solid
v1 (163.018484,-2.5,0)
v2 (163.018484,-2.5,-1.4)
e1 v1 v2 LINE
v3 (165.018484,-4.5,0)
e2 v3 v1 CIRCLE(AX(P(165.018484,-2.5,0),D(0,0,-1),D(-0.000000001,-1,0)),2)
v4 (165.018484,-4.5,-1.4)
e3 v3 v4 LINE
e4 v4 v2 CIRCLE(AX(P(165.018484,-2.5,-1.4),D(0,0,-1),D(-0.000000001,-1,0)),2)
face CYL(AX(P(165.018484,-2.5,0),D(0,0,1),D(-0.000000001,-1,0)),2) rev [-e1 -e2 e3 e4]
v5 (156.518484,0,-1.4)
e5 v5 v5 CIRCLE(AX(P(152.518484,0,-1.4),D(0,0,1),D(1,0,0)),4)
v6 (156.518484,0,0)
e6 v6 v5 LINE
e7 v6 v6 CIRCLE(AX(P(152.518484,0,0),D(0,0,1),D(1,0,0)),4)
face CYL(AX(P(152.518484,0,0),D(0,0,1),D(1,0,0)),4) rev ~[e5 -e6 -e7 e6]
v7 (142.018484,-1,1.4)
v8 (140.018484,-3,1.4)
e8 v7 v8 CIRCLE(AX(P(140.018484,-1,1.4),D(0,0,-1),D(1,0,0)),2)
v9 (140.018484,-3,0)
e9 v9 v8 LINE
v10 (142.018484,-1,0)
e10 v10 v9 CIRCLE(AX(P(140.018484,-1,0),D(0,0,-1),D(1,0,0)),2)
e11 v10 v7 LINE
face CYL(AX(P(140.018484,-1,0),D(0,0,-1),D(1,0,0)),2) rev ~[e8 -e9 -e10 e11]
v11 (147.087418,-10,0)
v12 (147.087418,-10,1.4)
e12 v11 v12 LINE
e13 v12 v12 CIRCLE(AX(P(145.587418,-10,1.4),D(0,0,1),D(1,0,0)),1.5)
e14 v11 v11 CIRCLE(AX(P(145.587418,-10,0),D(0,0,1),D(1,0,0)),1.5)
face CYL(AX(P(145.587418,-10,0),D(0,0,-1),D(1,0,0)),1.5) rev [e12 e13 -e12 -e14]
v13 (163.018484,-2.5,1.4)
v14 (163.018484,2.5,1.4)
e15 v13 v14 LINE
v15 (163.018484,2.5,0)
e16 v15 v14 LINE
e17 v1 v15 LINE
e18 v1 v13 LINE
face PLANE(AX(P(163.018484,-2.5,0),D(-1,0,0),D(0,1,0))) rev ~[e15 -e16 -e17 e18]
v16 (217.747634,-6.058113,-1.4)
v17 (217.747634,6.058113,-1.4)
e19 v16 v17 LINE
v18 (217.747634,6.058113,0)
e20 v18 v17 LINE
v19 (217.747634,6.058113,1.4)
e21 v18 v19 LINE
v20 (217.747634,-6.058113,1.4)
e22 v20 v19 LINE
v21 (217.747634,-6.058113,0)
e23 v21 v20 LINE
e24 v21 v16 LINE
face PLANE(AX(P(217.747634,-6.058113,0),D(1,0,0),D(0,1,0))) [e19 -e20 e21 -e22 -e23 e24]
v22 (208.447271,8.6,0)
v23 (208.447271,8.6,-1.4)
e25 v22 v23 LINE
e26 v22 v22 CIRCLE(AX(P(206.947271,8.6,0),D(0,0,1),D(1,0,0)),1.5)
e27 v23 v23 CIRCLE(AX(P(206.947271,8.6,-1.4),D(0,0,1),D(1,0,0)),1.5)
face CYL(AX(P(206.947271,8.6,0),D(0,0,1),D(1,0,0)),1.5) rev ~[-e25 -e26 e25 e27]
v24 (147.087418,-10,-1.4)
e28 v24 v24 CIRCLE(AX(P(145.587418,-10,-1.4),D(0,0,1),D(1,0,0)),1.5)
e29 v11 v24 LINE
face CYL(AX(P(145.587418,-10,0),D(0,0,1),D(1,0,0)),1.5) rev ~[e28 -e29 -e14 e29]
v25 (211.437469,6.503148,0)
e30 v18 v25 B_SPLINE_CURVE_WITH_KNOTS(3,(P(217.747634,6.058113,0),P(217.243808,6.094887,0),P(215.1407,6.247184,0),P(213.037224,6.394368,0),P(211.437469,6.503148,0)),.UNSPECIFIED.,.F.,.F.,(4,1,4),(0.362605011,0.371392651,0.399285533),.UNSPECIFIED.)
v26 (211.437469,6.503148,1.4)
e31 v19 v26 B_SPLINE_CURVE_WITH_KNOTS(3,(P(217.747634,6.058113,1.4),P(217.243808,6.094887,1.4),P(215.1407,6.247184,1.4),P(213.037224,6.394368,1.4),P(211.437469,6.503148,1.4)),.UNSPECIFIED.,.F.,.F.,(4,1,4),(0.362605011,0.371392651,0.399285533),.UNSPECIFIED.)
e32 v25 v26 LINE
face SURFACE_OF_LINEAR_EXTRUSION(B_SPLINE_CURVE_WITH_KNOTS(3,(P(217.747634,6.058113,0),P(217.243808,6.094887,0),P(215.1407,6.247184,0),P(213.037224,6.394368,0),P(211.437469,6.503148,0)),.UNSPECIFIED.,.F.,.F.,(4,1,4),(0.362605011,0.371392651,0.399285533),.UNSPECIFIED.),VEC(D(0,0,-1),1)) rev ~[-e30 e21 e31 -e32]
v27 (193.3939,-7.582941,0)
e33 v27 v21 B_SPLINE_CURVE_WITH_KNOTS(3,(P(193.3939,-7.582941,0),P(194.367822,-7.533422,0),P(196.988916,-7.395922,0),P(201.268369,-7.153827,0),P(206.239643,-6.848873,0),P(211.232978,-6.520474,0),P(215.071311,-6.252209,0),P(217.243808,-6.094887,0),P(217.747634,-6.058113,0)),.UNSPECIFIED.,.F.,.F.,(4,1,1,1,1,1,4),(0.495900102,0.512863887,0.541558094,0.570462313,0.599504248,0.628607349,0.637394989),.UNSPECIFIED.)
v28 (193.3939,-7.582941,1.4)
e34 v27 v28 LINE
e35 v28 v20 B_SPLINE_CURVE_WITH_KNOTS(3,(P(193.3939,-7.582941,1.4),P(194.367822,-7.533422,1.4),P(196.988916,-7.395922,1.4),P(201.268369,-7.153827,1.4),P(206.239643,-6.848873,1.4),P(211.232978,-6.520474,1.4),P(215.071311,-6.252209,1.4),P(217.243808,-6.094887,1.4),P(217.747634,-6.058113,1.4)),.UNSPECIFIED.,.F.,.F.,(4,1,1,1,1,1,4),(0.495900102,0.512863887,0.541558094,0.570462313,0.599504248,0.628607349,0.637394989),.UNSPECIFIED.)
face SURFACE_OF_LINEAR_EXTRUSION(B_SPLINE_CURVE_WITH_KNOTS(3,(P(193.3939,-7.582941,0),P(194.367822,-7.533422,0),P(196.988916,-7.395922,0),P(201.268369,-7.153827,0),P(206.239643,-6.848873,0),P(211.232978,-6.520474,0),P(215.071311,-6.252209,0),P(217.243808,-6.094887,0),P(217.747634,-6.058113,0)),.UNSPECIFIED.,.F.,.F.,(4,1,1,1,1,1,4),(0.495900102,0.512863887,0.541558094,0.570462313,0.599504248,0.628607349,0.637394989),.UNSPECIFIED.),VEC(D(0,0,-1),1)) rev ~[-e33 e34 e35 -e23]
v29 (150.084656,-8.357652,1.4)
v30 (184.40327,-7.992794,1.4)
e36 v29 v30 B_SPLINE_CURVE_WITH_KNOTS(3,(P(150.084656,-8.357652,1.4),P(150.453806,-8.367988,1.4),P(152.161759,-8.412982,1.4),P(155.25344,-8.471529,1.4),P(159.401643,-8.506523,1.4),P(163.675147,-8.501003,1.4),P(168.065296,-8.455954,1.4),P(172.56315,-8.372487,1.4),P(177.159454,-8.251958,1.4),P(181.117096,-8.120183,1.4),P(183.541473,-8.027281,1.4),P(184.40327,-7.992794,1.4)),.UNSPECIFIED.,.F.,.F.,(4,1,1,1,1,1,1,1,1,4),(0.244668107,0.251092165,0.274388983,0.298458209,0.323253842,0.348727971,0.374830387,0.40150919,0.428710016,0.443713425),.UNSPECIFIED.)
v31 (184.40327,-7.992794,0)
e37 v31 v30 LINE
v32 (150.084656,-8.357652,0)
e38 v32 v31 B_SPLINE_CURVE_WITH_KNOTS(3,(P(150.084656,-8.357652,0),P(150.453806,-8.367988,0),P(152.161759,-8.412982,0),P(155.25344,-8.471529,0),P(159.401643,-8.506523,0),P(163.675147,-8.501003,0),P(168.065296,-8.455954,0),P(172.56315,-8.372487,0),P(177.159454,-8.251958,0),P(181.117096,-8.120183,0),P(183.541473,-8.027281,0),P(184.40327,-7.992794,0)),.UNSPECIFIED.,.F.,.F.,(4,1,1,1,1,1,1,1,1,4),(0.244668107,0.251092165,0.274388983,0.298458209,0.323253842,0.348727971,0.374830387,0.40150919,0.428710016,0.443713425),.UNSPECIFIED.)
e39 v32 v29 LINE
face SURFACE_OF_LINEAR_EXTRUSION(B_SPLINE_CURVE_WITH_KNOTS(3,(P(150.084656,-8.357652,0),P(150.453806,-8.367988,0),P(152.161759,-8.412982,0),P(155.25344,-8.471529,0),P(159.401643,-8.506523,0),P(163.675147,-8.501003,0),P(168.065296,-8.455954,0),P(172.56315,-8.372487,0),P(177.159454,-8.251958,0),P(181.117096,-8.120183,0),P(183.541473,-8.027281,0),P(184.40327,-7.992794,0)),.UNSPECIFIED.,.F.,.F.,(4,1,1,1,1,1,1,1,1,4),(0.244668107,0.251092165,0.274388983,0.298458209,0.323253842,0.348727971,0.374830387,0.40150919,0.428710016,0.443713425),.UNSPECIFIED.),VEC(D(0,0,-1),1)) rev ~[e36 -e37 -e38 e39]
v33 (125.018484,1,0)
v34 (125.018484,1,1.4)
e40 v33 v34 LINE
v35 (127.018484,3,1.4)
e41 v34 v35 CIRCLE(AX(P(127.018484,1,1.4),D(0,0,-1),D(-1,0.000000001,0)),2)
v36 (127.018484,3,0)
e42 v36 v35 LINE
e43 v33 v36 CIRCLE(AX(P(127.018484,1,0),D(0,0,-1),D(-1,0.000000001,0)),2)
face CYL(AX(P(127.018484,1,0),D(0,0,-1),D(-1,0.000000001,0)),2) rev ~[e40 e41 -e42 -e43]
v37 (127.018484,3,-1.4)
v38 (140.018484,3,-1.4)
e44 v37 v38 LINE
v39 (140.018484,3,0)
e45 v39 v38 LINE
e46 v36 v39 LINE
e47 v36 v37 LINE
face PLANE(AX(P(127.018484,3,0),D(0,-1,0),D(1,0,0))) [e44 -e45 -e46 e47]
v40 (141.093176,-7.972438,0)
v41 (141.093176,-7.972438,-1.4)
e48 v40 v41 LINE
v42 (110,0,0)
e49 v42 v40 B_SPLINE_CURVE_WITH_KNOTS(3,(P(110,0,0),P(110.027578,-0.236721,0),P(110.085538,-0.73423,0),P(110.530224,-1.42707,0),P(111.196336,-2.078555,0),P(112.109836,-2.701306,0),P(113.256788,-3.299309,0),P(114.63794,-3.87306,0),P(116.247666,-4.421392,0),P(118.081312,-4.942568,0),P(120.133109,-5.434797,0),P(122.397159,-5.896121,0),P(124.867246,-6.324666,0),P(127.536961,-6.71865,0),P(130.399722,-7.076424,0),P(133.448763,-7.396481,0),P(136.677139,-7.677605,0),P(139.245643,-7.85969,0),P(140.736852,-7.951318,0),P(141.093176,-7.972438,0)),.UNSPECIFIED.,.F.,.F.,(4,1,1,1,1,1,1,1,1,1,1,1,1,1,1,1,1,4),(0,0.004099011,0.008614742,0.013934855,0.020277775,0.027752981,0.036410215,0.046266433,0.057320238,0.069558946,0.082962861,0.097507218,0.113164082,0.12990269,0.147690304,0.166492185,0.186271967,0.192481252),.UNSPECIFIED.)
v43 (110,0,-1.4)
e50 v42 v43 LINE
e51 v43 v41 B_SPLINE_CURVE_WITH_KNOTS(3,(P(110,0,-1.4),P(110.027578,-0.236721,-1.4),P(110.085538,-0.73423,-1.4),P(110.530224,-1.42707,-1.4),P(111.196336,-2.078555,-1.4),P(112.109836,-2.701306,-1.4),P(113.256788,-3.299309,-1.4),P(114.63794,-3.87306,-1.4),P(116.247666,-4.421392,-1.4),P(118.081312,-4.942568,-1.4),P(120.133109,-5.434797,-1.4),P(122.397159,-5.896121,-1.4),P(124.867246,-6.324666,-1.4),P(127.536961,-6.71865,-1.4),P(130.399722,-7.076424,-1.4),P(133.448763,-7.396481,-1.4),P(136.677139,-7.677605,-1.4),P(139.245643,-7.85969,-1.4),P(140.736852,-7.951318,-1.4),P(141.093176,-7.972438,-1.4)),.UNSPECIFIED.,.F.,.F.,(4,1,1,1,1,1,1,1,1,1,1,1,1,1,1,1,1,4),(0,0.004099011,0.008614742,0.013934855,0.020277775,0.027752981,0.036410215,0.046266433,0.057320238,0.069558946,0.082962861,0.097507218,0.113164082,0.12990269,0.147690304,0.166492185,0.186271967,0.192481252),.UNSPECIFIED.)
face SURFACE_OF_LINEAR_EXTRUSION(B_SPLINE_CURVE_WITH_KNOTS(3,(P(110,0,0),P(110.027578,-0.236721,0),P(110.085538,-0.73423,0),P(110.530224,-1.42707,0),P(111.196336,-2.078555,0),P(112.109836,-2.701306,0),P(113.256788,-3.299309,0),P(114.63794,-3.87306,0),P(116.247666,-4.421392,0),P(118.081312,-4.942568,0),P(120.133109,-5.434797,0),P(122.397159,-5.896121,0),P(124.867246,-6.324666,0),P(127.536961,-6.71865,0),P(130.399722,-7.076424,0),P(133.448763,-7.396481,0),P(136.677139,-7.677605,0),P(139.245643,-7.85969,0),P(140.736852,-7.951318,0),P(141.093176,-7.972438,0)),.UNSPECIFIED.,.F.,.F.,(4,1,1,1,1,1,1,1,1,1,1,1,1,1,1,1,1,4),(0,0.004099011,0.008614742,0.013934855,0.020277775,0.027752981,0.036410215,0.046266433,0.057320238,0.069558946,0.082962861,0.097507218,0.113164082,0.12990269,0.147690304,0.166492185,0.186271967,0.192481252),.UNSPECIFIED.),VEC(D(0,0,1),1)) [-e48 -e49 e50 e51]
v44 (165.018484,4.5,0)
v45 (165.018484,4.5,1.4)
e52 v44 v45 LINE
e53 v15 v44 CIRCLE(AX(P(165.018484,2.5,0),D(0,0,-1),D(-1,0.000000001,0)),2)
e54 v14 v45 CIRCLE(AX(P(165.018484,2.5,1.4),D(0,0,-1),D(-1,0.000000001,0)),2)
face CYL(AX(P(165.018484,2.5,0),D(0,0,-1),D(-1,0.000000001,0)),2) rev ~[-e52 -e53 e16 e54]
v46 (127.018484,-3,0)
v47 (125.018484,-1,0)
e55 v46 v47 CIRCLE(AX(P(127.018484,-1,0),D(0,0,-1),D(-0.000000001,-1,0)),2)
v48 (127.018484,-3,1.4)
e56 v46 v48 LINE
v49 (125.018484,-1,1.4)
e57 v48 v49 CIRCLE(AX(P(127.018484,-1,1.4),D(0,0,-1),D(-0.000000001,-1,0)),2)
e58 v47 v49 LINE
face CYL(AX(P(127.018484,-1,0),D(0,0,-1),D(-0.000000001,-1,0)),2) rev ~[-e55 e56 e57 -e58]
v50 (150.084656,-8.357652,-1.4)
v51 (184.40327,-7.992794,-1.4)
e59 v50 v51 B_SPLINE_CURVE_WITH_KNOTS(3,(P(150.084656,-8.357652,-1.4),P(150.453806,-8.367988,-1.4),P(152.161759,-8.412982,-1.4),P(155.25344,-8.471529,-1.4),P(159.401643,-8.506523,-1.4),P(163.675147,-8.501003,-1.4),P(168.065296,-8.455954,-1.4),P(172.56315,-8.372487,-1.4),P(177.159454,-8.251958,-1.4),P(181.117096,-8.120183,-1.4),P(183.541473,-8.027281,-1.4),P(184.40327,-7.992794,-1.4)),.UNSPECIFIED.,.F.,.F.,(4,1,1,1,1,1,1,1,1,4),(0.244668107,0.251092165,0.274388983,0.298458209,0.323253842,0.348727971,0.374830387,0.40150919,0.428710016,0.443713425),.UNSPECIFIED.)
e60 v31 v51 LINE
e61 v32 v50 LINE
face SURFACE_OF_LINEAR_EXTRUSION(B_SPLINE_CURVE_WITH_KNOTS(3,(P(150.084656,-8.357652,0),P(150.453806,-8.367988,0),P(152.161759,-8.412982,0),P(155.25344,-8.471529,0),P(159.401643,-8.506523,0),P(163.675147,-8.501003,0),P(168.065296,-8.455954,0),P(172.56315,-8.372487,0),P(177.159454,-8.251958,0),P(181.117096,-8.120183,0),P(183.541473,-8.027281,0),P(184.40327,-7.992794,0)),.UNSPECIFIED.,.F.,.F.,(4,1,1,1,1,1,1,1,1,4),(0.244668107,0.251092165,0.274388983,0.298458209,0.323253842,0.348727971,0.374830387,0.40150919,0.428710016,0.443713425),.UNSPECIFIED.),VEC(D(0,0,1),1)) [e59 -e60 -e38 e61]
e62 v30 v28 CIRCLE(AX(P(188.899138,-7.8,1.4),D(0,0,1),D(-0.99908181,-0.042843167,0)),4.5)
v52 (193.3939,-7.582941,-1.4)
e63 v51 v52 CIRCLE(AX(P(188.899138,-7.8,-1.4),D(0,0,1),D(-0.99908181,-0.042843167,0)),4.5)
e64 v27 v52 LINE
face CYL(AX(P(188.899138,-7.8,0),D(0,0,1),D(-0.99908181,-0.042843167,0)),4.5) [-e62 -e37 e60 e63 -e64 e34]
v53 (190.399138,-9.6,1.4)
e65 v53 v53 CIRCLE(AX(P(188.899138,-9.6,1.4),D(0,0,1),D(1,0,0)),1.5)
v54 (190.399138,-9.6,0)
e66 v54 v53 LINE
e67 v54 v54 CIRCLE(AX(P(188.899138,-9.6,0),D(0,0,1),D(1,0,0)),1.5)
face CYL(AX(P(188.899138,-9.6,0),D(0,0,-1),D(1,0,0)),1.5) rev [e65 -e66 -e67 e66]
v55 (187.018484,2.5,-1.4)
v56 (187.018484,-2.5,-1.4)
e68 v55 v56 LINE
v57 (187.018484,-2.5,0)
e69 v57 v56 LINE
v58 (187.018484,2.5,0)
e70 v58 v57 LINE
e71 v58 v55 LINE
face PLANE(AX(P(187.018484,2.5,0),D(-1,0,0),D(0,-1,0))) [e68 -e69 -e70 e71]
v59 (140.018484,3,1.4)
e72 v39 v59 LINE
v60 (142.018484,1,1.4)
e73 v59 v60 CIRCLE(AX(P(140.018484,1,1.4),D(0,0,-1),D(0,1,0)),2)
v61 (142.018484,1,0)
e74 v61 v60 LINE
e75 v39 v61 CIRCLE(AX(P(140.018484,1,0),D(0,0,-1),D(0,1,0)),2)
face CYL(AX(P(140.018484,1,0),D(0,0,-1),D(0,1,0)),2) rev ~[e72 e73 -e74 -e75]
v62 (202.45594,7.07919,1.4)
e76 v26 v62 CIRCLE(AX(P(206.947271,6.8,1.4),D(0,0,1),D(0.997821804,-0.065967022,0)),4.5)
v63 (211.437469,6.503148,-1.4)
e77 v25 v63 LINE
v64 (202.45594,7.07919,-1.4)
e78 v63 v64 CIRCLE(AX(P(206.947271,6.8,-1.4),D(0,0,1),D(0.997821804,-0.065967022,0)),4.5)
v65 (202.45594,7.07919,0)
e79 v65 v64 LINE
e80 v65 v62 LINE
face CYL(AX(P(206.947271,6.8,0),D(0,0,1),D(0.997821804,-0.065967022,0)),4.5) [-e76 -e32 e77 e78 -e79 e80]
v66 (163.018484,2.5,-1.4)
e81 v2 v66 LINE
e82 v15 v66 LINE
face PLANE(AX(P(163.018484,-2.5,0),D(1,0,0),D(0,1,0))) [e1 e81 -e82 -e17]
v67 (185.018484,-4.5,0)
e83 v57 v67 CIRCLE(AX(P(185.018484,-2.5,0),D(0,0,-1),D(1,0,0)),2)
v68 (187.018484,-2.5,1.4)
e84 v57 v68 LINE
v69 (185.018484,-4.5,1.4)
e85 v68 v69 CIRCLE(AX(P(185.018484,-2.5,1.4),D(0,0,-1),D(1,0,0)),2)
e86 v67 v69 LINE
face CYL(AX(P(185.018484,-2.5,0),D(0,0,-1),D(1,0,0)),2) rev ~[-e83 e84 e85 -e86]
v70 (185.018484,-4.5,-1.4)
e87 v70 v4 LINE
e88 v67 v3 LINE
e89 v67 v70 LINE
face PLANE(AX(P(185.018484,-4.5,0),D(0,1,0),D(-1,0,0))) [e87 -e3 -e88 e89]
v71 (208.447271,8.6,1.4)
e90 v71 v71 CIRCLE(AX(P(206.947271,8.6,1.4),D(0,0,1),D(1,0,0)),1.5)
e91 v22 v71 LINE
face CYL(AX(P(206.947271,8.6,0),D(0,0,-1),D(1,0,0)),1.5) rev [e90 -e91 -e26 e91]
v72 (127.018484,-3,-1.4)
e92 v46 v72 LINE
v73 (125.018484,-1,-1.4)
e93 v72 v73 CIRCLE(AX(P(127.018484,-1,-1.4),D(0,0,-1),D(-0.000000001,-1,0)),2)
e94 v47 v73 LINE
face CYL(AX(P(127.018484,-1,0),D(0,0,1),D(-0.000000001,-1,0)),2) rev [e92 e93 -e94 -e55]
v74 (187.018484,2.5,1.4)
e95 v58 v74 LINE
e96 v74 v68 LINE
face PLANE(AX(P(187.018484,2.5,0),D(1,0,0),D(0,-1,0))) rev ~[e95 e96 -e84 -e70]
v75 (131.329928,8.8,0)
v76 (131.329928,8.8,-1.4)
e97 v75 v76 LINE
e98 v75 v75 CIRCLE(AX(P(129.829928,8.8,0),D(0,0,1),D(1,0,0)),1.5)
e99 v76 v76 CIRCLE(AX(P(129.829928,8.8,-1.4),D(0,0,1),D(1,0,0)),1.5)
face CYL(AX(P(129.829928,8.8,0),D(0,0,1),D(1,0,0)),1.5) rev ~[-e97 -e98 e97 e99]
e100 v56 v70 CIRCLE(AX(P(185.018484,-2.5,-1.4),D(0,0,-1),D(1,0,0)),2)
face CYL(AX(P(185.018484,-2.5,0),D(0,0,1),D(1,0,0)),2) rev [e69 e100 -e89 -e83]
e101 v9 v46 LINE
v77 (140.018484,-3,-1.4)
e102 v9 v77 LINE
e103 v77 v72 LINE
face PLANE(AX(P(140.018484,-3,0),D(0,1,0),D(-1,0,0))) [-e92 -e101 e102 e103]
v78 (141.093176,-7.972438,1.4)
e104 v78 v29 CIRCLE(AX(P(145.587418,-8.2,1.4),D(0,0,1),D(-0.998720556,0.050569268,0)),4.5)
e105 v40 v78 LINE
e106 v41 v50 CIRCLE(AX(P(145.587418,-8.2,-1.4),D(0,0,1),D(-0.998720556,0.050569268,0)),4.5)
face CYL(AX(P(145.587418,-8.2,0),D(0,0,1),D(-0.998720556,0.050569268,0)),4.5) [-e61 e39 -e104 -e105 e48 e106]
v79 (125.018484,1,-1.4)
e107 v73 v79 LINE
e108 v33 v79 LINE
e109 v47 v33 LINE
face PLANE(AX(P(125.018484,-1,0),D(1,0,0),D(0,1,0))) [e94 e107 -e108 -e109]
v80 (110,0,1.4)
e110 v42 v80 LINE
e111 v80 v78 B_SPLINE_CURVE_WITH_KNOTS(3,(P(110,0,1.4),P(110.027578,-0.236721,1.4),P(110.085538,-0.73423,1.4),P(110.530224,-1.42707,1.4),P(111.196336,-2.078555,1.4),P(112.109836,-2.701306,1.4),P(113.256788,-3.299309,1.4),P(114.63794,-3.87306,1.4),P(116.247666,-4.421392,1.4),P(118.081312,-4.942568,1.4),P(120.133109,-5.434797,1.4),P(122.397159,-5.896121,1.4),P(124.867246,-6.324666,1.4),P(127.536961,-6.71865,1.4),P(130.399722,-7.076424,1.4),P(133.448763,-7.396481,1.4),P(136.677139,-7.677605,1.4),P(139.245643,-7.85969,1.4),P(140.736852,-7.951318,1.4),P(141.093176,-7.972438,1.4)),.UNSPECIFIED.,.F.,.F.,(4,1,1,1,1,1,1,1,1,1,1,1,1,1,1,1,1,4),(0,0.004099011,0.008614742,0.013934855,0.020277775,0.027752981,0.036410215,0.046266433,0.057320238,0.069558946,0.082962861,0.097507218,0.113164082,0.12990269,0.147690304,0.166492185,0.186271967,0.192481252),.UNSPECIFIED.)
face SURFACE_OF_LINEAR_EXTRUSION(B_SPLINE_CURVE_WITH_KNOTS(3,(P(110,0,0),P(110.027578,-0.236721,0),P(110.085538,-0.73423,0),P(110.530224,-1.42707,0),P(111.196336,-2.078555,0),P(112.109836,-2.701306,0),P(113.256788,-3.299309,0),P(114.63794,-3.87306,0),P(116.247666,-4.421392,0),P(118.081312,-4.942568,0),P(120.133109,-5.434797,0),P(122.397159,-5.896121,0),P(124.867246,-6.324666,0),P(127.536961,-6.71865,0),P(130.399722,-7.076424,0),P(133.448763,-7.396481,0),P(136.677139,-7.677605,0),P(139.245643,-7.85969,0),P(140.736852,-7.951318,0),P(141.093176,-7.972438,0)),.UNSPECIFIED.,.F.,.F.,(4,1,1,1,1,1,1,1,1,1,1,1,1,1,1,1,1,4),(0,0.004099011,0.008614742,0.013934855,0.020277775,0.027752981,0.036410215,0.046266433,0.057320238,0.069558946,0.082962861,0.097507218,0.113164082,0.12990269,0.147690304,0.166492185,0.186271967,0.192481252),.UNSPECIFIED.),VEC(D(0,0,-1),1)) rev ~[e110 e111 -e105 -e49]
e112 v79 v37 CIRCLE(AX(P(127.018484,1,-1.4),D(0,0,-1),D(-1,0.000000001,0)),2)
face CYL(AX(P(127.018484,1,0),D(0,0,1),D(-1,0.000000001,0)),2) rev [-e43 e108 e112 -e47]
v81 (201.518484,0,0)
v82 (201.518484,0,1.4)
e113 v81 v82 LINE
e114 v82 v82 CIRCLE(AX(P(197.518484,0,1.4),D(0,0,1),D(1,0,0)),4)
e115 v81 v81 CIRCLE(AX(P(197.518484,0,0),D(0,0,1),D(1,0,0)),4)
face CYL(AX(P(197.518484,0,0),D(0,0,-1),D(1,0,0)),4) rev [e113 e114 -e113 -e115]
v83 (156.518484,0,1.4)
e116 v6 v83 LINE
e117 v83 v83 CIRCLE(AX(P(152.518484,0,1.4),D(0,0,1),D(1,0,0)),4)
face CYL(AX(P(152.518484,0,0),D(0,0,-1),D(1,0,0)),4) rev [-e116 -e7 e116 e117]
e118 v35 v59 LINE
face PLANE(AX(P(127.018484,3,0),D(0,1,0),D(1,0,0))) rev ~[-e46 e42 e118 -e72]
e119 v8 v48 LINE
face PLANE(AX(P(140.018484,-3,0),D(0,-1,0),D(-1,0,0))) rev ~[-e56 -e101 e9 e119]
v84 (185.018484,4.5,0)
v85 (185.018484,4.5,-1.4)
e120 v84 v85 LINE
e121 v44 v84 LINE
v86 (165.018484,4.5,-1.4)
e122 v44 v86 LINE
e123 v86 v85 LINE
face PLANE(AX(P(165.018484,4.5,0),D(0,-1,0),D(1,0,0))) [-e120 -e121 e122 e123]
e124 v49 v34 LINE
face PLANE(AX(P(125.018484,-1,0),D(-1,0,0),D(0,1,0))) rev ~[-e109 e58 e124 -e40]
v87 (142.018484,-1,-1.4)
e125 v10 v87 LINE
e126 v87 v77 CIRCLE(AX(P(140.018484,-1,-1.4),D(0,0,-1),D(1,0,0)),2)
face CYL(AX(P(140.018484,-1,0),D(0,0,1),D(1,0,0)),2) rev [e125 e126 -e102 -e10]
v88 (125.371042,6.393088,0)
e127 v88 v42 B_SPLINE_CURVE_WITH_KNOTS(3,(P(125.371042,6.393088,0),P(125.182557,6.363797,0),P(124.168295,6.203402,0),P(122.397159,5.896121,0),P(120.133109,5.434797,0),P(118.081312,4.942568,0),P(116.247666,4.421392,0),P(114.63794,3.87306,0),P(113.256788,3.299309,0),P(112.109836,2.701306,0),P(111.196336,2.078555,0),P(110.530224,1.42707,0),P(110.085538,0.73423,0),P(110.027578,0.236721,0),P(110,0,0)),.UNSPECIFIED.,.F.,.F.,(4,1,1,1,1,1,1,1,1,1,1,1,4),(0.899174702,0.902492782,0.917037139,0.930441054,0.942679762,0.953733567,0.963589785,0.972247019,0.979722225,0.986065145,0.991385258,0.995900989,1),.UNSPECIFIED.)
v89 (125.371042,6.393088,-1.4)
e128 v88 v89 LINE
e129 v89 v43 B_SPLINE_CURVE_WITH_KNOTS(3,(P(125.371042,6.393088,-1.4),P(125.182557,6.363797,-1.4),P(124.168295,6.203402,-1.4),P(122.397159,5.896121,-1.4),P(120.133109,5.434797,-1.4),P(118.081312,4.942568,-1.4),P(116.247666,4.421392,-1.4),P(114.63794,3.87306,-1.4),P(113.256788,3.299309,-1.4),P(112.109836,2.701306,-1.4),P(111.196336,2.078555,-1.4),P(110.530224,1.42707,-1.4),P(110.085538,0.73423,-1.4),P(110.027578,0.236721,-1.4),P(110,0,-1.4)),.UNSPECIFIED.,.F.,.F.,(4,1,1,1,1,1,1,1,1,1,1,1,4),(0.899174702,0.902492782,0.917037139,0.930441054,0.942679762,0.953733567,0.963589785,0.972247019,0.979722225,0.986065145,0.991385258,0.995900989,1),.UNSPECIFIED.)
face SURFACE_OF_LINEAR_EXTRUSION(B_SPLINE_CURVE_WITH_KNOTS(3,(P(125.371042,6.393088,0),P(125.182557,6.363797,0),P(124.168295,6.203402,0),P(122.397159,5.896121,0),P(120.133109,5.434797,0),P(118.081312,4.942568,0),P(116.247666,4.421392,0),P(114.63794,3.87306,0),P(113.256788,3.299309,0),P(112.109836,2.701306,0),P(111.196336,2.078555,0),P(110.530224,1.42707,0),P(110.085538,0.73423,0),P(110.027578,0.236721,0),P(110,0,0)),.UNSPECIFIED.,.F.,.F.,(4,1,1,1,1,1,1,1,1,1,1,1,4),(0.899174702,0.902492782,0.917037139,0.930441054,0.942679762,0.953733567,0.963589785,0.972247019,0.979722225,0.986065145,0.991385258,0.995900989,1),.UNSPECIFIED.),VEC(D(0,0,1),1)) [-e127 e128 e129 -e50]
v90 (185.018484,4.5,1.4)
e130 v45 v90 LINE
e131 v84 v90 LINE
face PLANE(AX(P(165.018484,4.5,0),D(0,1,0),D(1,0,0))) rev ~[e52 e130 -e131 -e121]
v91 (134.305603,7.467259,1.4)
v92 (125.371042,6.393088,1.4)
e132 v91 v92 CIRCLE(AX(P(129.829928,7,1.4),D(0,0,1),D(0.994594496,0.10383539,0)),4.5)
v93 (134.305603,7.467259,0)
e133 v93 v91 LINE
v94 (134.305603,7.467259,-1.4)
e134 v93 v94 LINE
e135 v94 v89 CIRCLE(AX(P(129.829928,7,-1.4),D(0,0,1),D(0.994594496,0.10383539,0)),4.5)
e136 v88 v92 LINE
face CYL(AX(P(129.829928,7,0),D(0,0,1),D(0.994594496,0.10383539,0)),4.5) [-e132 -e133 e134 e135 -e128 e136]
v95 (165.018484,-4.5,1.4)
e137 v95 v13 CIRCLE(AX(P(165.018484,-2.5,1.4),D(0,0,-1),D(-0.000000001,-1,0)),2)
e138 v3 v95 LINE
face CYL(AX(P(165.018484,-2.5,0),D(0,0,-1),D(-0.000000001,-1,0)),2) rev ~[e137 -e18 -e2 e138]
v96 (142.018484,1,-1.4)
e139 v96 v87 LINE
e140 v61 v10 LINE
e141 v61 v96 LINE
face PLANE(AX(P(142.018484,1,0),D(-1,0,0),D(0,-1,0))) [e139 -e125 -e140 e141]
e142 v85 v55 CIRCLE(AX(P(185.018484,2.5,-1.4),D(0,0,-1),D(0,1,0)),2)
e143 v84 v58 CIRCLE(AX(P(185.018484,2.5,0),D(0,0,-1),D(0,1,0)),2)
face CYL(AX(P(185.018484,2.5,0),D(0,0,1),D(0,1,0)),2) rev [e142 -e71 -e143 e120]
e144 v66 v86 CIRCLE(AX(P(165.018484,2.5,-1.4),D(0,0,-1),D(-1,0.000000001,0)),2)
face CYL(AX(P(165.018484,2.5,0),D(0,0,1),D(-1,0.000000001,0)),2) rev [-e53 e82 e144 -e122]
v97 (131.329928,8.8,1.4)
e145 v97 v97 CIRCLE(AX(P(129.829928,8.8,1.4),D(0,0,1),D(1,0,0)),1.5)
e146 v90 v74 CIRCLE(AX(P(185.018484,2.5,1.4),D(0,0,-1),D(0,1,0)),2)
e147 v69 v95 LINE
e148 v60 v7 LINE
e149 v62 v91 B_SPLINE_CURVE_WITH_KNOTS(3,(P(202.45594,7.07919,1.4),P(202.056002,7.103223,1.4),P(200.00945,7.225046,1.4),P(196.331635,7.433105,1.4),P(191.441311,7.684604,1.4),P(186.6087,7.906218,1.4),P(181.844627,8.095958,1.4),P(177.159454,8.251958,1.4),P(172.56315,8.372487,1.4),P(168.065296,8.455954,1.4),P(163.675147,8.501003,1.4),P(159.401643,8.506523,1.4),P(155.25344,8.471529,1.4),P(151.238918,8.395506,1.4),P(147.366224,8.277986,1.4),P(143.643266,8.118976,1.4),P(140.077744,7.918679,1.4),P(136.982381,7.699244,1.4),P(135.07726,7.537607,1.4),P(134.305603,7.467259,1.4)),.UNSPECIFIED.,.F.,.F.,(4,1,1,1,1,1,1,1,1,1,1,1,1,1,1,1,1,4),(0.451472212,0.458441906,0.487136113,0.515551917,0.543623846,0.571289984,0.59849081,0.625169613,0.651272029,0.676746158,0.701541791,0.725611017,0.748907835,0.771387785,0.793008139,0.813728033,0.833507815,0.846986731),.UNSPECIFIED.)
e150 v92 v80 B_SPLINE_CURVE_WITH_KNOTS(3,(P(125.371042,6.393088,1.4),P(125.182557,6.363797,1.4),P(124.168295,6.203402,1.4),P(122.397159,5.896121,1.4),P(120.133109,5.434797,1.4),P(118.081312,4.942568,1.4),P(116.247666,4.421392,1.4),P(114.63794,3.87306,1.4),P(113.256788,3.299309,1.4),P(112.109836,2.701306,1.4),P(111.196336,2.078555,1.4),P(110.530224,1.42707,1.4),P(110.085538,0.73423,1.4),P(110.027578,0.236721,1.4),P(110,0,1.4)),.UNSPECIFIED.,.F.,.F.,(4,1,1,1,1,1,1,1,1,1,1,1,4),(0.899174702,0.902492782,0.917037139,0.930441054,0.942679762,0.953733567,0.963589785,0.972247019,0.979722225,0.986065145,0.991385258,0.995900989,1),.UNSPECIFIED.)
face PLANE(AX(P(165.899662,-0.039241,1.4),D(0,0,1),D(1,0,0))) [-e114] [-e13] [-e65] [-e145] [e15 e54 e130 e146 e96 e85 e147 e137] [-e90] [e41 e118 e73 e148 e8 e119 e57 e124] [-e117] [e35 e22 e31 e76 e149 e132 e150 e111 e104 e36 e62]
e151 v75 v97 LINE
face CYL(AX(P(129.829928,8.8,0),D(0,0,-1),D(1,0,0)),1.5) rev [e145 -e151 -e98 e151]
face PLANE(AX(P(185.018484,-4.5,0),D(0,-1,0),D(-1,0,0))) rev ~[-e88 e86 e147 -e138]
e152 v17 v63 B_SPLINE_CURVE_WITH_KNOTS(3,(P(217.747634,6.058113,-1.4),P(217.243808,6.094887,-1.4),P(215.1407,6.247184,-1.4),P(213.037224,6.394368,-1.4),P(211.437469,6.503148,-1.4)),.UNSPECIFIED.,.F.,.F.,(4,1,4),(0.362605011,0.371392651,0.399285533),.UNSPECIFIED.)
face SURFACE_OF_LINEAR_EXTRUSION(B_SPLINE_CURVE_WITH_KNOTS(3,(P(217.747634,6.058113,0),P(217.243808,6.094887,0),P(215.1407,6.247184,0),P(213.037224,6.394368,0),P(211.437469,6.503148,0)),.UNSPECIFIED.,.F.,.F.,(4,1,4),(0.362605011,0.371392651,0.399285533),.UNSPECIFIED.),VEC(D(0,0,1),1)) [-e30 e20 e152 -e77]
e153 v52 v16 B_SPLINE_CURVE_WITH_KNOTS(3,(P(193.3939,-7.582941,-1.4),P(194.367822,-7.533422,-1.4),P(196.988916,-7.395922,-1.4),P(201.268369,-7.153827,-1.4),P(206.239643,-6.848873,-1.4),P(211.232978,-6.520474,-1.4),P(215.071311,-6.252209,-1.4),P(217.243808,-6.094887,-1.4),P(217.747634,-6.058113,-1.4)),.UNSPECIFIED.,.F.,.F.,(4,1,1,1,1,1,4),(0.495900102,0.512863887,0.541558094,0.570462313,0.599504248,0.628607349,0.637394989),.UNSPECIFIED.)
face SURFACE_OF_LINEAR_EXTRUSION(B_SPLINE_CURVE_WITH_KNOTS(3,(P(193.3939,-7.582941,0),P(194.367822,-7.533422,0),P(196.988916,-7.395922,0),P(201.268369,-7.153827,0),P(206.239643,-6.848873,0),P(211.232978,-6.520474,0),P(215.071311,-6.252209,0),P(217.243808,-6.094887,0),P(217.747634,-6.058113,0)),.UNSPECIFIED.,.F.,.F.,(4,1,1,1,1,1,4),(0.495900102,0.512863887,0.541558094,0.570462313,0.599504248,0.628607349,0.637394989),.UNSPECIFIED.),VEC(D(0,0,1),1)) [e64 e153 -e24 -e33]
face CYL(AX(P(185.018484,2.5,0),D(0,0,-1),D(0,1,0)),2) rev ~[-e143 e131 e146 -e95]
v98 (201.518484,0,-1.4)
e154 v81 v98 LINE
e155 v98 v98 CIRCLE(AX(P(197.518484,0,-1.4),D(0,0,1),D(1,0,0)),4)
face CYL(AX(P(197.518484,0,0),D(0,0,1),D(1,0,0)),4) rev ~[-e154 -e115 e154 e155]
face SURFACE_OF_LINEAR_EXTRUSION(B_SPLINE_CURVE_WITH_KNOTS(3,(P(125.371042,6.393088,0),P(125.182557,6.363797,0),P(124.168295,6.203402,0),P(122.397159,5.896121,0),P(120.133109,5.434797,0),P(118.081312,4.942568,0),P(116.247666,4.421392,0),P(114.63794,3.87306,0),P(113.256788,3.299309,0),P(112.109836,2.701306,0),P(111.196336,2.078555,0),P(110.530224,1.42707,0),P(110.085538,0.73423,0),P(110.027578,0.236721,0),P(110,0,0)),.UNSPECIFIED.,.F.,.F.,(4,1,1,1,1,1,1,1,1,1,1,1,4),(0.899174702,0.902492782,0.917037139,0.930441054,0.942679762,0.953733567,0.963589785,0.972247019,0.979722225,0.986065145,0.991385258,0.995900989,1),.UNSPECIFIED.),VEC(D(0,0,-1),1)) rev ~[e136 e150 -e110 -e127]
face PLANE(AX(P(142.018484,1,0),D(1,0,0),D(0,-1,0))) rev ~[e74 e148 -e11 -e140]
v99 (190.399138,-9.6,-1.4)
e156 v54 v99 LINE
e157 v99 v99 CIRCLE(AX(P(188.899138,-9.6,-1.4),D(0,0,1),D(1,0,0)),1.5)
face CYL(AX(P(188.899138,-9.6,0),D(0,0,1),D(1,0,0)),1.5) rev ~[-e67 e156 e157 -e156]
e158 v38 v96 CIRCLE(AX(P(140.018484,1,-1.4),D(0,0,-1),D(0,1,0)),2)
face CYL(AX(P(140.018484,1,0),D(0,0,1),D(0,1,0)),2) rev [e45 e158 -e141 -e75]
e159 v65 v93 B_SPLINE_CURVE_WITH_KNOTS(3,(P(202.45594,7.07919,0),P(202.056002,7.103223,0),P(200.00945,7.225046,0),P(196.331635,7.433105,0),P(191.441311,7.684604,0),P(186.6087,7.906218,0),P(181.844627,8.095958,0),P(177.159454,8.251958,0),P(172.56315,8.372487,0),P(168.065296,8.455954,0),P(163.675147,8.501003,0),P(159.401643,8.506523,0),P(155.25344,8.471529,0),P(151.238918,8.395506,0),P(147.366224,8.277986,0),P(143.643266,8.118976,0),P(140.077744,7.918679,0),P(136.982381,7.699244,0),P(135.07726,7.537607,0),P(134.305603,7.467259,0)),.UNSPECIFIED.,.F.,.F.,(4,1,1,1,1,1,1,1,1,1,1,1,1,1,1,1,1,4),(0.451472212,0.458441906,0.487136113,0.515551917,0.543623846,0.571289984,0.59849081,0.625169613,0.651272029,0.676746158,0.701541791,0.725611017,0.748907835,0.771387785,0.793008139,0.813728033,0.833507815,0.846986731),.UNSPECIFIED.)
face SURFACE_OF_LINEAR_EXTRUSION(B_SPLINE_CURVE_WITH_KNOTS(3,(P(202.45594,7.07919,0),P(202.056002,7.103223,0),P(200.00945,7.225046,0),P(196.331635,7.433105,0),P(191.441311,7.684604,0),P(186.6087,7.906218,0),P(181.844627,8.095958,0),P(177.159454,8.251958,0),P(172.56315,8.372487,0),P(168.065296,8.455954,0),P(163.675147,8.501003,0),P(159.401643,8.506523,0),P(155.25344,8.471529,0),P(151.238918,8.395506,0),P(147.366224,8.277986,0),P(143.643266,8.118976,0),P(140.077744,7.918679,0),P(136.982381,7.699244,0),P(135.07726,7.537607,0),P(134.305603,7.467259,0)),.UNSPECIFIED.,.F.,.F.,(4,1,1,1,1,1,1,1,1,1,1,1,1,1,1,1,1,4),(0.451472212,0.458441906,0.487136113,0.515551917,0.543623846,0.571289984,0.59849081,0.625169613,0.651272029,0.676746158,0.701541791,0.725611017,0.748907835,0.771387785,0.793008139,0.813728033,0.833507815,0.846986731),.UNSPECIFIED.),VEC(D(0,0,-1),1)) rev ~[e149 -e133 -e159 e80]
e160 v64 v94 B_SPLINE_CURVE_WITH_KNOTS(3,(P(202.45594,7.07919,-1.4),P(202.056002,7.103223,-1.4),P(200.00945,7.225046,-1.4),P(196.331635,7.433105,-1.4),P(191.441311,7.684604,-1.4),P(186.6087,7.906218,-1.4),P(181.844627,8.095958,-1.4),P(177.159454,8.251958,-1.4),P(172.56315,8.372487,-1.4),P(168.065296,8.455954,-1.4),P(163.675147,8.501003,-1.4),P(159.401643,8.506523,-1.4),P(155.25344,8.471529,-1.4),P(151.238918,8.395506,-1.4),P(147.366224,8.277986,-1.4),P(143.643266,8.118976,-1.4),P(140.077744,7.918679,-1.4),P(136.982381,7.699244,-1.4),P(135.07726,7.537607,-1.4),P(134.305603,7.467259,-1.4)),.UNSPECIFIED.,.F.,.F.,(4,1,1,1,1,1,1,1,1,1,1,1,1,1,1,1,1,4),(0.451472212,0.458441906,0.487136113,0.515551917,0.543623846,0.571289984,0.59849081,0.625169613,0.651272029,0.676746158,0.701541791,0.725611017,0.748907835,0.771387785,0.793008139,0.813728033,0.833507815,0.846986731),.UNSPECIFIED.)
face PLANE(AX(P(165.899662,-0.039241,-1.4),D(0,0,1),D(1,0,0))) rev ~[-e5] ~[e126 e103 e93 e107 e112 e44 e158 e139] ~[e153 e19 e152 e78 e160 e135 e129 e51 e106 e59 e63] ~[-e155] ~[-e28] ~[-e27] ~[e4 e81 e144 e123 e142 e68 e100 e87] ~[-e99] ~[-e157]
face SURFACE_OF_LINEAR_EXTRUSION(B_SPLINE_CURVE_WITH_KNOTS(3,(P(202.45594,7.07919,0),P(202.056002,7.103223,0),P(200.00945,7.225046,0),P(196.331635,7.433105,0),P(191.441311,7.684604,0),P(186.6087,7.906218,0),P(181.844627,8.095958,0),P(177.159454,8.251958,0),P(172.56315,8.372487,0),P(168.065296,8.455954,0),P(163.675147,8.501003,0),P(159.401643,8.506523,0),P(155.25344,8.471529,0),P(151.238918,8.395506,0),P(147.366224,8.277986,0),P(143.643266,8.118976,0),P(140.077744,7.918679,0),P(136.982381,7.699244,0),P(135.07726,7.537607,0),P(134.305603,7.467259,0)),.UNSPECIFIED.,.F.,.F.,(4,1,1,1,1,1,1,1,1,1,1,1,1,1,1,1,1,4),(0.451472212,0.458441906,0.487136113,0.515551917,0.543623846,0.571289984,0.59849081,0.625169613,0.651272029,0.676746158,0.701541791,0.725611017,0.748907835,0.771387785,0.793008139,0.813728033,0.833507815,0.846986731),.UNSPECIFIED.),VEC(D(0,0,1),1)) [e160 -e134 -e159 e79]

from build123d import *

# Parameters (mm, degrees)
SKETCH_1_R      = 1.5
SKETCH_1_R_2    = 4
EXTRUDE_1_DEPTH = 1.4


with BuildPart() as part:
    # Эскиз1 → Бобышка-Вытянуть1 (new, symmetric)
    with BuildSketch(Plane.XY):
        with BuildLine():
            Line((217.747634119, 0), (217.747634119, 6.058113078))
            add(Edge.make_bspline(
                [(217.747634119, 6.058113078), (217.243808474, 6.094887376), (215.140700226, 6.247183834), (213.037224342, 6.394367799), (211.437469318, 6.503148402)],
                knots=[0.362605011, 0.362605011, 0.362605011, 0.362605011, 0.371392651, 0.399285533, 0.399285533, 0.399285533, 0.399285533], degree=3))
            ThreePointArc((211.437469318, 6.503148402), (207.235292618, 11.29077317), (202.455940343, 7.079190122))
            add(Edge.make_bspline(
                [(202.455940343, 7.079190122), (202.056002141, 7.103223291), (200.009450225, 7.225045801), (196.331634567, 7.433105337), (191.441311474, 7.684604439), (186.608700127, 7.906218293), (181.844626933, 8.095958493), (177.159453511, 8.251957682), (172.563150272, 8.372486564), (168.065295924, 8.455953662), (163.675147454, 8.5010027), (159.401643404, 8.506522967), (155.253439756, 8.471528808), (151.238917925, 8.395506076), (147.366223919, 8.277985977), (143.643266298, 8.118975561), (140.077743555, 7.918678943), (136.982380939, 7.699243614), (135.077259612, 7.537606821), (134.305602735, 7.467259257)],
                knots=[0.451472212, 0.451472212, 0.451472212, 0.451472212, 0.458441906, 0.487136113, 0.515551917, 0.543623846, 0.571289984, 0.59849081, 0.625169613, 0.651272029, 0.676746158, 0.701541791, 0.725611017, 0.748907835, 0.771387785, 0.793008139, 0.813728033, 0.833507815, 0.846986731, 0.846986731, 0.846986731, 0.846986731], degree=3))
            ThreePointArc((134.305602735, 7.467259257), (129.292776458, 11.467825954), (125.371042184, 6.393088379))
            add(Edge.make_bspline(
                [(125.371042184, 6.393088379), (125.182557358, 6.363796993), (124.168294515, 6.203402144), (122.397158974, 5.896120566), (120.133109351, 5.434797476), (118.081312133, 4.94256764), (116.247665798, 4.421392386), (114.63793972, 3.873060465), (113.256788366, 3.299309237), (112.109835924, 2.701306387), (111.196336341, 2.078555233), (110.530223642, 1.427069758), (110.085538218, 0.73423022), (110.027578176, 0.23672144), (110, 0)],
                knots=[0.899174702, 0.899174702, 0.899174702, 0.899174702, 0.902492782, 0.917037139, 0.930441054, 0.942679762, 0.953733567, 0.963589785, 0.972247019, 0.979722225, 0.986065145, 0.991385258, 0.995900989, 1, 1, 1, 1], degree=3))
            add(Edge.make_bspline(
                [(110, 0), (110.027578176, -0.236721441), (110.085538218, -0.734230221), (110.530223642, -1.427069759), (111.196336341, -2.078555234), (112.109835924, -2.701306388), (113.256788366, -3.299309238), (114.63793972, -3.873060466), (116.247665798, -4.421392387), (118.081312133, -4.942567641), (120.133109351, -5.434797477), (122.397158974, -5.896120567), (124.867245825, -6.324666078), (127.536961089, -6.718650341), (130.399721686, -7.076424311), (133.448762895, -7.396480569), (136.677139412, -7.677604542), (139.245643336, -7.859689995), (140.736851964, -7.951317752), (141.093175889, -7.972438296)],
                knots=[0, 0, 0, 0, 0.004099011, 0.008614742, 0.013934855, 0.020277775, 0.027752981, 0.036410215, 0.046266433, 0.057320238, 0.069558946, 0.082962861, 0.097507218, 0.113164082, 0.12990269, 0.147690304, 0.166492185, 0.186271967, 0.192481252, 0.192481252, 0.192481252, 0.192481252], degree=3))
            ThreePointArc((141.093175889, -7.972438296), (145.394805922, -12.695875937), (150.084655985, -8.35765159))
            add(Edge.make_bspline(
                [(150.084655985, -8.35765159), (150.453806444, -8.367988388), (152.161758649, -8.412981849), (155.253439756, -8.471528808), (159.401643404, -8.506522967), (163.675147454, -8.5010027), (168.065295924, -8.455953663), (172.563150272, -8.372486564), (177.159453511, -8.251957682), (181.117095872, -8.120182624), (183.541473355, -8.027281081), (184.403269889, -7.992794251)],
                knots=[0.244668107, 0.244668107, 0.244668107, 0.244668107, 0.251092165, 0.274388983, 0.298458209, 0.323253842, 0.348727971, 0.374830387, 0.40150919, 0.428710016, 0.443713425, 0.443713425, 0.443713425, 0.443713425], degree=3))
            ThreePointArc((184.403269889, -7.992794251), (189.104065456, -12.29533144), (193.393900024, -7.582940899))
            add(Edge.make_bspline(
                [(193.393900024, -7.582940899), (194.367821921, -7.533422186), (196.98891626, -7.395921928), (201.268368917, -7.153826886), (206.239642946, -6.848873), (211.232977593, -6.52047435), (215.071311266, -6.252208631), (217.243808474, -6.094887376), (217.747634119, -6.058113078)],
                knots=[0.495900102, 0.495900102, 0.495900102, 0.495900102, 0.512863887, 0.541558094, 0.570462313, 0.599504248, 0.628607349, 0.637394989, 0.637394989, 0.637394989, 0.637394989], degree=3))
            Line((217.747634119, -6.058113078), (217.747634119, 0))
        make_face()
        with Locations((145.587418391, -10)):
            Circle(SKETCH_1_R, mode=Mode.SUBTRACT)
        with Locations((188.899138034, -9.6)):
            Circle(SKETCH_1_R, mode=Mode.SUBTRACT)
        with BuildLine():
            Line((140.01848428, -3), (127.01848428, -3))
            ThreePointArc((127.01848428, -3), (125.604270718, -2.414213562), (125.01848428, -1))
            Line((125.01848428, -1), (125.01848428, 1))
            ThreePointArc((125.01848428, 1), (125.604270718, 2.414213562), (127.01848428, 3))
            Line((127.01848428, 3), (140.01848428, 3))
            ThreePointArc((140.01848428, 3), (141.432697843, 2.414213562), (142.01848428, 1))
            Line((142.01848428, 1), (142.01848428, -1))
            ThreePointArc((142.01848428, -1), (141.432697843, -2.414213562), (140.01848428, -3))
        make_face(mode=Mode.SUBTRACT)
        with Locations((152.51848428, 0)):
            Circle(SKETCH_1_R_2, mode=Mode.SUBTRACT)
        with BuildLine():
            Line((185.01848428, -4.5), (165.01848428, -4.5))
            ThreePointArc((165.01848428, -4.5), (163.604270718, -3.914213562), (163.01848428, -2.5))
            Line((163.01848428, -2.5), (163.01848428, 2.5))
            ThreePointArc((163.01848428, 2.5), (163.604270718, 3.914213562), (165.01848428, 4.5))
            Line((165.01848428, 4.5), (185.01848428, 4.5))
            ThreePointArc((185.01848428, 4.5), (186.432697843, 3.914213562), (187.01848428, 2.5))
            Line((187.01848428, 2.5), (187.01848428, -2.5))
            ThreePointArc((187.01848428, -2.5), (186.432697843, -3.914213562), (185.01848428, -4.5))
        make_face(mode=Mode.SUBTRACT)
        with Locations((129.829927502, 8.8)):
            Circle(SKETCH_1_R, mode=Mode.SUBTRACT)
        with Locations((197.51848428, 0)):
            Circle(SKETCH_1_R_2, mode=Mode.SUBTRACT)
        with Locations((206.947271201, 8.6)):
            Circle(SKETCH_1_R, mode=Mode.SUBTRACT)
    extrude(amount=EXTRUDE_1_DEPTH, both=True)


solid = part.part
